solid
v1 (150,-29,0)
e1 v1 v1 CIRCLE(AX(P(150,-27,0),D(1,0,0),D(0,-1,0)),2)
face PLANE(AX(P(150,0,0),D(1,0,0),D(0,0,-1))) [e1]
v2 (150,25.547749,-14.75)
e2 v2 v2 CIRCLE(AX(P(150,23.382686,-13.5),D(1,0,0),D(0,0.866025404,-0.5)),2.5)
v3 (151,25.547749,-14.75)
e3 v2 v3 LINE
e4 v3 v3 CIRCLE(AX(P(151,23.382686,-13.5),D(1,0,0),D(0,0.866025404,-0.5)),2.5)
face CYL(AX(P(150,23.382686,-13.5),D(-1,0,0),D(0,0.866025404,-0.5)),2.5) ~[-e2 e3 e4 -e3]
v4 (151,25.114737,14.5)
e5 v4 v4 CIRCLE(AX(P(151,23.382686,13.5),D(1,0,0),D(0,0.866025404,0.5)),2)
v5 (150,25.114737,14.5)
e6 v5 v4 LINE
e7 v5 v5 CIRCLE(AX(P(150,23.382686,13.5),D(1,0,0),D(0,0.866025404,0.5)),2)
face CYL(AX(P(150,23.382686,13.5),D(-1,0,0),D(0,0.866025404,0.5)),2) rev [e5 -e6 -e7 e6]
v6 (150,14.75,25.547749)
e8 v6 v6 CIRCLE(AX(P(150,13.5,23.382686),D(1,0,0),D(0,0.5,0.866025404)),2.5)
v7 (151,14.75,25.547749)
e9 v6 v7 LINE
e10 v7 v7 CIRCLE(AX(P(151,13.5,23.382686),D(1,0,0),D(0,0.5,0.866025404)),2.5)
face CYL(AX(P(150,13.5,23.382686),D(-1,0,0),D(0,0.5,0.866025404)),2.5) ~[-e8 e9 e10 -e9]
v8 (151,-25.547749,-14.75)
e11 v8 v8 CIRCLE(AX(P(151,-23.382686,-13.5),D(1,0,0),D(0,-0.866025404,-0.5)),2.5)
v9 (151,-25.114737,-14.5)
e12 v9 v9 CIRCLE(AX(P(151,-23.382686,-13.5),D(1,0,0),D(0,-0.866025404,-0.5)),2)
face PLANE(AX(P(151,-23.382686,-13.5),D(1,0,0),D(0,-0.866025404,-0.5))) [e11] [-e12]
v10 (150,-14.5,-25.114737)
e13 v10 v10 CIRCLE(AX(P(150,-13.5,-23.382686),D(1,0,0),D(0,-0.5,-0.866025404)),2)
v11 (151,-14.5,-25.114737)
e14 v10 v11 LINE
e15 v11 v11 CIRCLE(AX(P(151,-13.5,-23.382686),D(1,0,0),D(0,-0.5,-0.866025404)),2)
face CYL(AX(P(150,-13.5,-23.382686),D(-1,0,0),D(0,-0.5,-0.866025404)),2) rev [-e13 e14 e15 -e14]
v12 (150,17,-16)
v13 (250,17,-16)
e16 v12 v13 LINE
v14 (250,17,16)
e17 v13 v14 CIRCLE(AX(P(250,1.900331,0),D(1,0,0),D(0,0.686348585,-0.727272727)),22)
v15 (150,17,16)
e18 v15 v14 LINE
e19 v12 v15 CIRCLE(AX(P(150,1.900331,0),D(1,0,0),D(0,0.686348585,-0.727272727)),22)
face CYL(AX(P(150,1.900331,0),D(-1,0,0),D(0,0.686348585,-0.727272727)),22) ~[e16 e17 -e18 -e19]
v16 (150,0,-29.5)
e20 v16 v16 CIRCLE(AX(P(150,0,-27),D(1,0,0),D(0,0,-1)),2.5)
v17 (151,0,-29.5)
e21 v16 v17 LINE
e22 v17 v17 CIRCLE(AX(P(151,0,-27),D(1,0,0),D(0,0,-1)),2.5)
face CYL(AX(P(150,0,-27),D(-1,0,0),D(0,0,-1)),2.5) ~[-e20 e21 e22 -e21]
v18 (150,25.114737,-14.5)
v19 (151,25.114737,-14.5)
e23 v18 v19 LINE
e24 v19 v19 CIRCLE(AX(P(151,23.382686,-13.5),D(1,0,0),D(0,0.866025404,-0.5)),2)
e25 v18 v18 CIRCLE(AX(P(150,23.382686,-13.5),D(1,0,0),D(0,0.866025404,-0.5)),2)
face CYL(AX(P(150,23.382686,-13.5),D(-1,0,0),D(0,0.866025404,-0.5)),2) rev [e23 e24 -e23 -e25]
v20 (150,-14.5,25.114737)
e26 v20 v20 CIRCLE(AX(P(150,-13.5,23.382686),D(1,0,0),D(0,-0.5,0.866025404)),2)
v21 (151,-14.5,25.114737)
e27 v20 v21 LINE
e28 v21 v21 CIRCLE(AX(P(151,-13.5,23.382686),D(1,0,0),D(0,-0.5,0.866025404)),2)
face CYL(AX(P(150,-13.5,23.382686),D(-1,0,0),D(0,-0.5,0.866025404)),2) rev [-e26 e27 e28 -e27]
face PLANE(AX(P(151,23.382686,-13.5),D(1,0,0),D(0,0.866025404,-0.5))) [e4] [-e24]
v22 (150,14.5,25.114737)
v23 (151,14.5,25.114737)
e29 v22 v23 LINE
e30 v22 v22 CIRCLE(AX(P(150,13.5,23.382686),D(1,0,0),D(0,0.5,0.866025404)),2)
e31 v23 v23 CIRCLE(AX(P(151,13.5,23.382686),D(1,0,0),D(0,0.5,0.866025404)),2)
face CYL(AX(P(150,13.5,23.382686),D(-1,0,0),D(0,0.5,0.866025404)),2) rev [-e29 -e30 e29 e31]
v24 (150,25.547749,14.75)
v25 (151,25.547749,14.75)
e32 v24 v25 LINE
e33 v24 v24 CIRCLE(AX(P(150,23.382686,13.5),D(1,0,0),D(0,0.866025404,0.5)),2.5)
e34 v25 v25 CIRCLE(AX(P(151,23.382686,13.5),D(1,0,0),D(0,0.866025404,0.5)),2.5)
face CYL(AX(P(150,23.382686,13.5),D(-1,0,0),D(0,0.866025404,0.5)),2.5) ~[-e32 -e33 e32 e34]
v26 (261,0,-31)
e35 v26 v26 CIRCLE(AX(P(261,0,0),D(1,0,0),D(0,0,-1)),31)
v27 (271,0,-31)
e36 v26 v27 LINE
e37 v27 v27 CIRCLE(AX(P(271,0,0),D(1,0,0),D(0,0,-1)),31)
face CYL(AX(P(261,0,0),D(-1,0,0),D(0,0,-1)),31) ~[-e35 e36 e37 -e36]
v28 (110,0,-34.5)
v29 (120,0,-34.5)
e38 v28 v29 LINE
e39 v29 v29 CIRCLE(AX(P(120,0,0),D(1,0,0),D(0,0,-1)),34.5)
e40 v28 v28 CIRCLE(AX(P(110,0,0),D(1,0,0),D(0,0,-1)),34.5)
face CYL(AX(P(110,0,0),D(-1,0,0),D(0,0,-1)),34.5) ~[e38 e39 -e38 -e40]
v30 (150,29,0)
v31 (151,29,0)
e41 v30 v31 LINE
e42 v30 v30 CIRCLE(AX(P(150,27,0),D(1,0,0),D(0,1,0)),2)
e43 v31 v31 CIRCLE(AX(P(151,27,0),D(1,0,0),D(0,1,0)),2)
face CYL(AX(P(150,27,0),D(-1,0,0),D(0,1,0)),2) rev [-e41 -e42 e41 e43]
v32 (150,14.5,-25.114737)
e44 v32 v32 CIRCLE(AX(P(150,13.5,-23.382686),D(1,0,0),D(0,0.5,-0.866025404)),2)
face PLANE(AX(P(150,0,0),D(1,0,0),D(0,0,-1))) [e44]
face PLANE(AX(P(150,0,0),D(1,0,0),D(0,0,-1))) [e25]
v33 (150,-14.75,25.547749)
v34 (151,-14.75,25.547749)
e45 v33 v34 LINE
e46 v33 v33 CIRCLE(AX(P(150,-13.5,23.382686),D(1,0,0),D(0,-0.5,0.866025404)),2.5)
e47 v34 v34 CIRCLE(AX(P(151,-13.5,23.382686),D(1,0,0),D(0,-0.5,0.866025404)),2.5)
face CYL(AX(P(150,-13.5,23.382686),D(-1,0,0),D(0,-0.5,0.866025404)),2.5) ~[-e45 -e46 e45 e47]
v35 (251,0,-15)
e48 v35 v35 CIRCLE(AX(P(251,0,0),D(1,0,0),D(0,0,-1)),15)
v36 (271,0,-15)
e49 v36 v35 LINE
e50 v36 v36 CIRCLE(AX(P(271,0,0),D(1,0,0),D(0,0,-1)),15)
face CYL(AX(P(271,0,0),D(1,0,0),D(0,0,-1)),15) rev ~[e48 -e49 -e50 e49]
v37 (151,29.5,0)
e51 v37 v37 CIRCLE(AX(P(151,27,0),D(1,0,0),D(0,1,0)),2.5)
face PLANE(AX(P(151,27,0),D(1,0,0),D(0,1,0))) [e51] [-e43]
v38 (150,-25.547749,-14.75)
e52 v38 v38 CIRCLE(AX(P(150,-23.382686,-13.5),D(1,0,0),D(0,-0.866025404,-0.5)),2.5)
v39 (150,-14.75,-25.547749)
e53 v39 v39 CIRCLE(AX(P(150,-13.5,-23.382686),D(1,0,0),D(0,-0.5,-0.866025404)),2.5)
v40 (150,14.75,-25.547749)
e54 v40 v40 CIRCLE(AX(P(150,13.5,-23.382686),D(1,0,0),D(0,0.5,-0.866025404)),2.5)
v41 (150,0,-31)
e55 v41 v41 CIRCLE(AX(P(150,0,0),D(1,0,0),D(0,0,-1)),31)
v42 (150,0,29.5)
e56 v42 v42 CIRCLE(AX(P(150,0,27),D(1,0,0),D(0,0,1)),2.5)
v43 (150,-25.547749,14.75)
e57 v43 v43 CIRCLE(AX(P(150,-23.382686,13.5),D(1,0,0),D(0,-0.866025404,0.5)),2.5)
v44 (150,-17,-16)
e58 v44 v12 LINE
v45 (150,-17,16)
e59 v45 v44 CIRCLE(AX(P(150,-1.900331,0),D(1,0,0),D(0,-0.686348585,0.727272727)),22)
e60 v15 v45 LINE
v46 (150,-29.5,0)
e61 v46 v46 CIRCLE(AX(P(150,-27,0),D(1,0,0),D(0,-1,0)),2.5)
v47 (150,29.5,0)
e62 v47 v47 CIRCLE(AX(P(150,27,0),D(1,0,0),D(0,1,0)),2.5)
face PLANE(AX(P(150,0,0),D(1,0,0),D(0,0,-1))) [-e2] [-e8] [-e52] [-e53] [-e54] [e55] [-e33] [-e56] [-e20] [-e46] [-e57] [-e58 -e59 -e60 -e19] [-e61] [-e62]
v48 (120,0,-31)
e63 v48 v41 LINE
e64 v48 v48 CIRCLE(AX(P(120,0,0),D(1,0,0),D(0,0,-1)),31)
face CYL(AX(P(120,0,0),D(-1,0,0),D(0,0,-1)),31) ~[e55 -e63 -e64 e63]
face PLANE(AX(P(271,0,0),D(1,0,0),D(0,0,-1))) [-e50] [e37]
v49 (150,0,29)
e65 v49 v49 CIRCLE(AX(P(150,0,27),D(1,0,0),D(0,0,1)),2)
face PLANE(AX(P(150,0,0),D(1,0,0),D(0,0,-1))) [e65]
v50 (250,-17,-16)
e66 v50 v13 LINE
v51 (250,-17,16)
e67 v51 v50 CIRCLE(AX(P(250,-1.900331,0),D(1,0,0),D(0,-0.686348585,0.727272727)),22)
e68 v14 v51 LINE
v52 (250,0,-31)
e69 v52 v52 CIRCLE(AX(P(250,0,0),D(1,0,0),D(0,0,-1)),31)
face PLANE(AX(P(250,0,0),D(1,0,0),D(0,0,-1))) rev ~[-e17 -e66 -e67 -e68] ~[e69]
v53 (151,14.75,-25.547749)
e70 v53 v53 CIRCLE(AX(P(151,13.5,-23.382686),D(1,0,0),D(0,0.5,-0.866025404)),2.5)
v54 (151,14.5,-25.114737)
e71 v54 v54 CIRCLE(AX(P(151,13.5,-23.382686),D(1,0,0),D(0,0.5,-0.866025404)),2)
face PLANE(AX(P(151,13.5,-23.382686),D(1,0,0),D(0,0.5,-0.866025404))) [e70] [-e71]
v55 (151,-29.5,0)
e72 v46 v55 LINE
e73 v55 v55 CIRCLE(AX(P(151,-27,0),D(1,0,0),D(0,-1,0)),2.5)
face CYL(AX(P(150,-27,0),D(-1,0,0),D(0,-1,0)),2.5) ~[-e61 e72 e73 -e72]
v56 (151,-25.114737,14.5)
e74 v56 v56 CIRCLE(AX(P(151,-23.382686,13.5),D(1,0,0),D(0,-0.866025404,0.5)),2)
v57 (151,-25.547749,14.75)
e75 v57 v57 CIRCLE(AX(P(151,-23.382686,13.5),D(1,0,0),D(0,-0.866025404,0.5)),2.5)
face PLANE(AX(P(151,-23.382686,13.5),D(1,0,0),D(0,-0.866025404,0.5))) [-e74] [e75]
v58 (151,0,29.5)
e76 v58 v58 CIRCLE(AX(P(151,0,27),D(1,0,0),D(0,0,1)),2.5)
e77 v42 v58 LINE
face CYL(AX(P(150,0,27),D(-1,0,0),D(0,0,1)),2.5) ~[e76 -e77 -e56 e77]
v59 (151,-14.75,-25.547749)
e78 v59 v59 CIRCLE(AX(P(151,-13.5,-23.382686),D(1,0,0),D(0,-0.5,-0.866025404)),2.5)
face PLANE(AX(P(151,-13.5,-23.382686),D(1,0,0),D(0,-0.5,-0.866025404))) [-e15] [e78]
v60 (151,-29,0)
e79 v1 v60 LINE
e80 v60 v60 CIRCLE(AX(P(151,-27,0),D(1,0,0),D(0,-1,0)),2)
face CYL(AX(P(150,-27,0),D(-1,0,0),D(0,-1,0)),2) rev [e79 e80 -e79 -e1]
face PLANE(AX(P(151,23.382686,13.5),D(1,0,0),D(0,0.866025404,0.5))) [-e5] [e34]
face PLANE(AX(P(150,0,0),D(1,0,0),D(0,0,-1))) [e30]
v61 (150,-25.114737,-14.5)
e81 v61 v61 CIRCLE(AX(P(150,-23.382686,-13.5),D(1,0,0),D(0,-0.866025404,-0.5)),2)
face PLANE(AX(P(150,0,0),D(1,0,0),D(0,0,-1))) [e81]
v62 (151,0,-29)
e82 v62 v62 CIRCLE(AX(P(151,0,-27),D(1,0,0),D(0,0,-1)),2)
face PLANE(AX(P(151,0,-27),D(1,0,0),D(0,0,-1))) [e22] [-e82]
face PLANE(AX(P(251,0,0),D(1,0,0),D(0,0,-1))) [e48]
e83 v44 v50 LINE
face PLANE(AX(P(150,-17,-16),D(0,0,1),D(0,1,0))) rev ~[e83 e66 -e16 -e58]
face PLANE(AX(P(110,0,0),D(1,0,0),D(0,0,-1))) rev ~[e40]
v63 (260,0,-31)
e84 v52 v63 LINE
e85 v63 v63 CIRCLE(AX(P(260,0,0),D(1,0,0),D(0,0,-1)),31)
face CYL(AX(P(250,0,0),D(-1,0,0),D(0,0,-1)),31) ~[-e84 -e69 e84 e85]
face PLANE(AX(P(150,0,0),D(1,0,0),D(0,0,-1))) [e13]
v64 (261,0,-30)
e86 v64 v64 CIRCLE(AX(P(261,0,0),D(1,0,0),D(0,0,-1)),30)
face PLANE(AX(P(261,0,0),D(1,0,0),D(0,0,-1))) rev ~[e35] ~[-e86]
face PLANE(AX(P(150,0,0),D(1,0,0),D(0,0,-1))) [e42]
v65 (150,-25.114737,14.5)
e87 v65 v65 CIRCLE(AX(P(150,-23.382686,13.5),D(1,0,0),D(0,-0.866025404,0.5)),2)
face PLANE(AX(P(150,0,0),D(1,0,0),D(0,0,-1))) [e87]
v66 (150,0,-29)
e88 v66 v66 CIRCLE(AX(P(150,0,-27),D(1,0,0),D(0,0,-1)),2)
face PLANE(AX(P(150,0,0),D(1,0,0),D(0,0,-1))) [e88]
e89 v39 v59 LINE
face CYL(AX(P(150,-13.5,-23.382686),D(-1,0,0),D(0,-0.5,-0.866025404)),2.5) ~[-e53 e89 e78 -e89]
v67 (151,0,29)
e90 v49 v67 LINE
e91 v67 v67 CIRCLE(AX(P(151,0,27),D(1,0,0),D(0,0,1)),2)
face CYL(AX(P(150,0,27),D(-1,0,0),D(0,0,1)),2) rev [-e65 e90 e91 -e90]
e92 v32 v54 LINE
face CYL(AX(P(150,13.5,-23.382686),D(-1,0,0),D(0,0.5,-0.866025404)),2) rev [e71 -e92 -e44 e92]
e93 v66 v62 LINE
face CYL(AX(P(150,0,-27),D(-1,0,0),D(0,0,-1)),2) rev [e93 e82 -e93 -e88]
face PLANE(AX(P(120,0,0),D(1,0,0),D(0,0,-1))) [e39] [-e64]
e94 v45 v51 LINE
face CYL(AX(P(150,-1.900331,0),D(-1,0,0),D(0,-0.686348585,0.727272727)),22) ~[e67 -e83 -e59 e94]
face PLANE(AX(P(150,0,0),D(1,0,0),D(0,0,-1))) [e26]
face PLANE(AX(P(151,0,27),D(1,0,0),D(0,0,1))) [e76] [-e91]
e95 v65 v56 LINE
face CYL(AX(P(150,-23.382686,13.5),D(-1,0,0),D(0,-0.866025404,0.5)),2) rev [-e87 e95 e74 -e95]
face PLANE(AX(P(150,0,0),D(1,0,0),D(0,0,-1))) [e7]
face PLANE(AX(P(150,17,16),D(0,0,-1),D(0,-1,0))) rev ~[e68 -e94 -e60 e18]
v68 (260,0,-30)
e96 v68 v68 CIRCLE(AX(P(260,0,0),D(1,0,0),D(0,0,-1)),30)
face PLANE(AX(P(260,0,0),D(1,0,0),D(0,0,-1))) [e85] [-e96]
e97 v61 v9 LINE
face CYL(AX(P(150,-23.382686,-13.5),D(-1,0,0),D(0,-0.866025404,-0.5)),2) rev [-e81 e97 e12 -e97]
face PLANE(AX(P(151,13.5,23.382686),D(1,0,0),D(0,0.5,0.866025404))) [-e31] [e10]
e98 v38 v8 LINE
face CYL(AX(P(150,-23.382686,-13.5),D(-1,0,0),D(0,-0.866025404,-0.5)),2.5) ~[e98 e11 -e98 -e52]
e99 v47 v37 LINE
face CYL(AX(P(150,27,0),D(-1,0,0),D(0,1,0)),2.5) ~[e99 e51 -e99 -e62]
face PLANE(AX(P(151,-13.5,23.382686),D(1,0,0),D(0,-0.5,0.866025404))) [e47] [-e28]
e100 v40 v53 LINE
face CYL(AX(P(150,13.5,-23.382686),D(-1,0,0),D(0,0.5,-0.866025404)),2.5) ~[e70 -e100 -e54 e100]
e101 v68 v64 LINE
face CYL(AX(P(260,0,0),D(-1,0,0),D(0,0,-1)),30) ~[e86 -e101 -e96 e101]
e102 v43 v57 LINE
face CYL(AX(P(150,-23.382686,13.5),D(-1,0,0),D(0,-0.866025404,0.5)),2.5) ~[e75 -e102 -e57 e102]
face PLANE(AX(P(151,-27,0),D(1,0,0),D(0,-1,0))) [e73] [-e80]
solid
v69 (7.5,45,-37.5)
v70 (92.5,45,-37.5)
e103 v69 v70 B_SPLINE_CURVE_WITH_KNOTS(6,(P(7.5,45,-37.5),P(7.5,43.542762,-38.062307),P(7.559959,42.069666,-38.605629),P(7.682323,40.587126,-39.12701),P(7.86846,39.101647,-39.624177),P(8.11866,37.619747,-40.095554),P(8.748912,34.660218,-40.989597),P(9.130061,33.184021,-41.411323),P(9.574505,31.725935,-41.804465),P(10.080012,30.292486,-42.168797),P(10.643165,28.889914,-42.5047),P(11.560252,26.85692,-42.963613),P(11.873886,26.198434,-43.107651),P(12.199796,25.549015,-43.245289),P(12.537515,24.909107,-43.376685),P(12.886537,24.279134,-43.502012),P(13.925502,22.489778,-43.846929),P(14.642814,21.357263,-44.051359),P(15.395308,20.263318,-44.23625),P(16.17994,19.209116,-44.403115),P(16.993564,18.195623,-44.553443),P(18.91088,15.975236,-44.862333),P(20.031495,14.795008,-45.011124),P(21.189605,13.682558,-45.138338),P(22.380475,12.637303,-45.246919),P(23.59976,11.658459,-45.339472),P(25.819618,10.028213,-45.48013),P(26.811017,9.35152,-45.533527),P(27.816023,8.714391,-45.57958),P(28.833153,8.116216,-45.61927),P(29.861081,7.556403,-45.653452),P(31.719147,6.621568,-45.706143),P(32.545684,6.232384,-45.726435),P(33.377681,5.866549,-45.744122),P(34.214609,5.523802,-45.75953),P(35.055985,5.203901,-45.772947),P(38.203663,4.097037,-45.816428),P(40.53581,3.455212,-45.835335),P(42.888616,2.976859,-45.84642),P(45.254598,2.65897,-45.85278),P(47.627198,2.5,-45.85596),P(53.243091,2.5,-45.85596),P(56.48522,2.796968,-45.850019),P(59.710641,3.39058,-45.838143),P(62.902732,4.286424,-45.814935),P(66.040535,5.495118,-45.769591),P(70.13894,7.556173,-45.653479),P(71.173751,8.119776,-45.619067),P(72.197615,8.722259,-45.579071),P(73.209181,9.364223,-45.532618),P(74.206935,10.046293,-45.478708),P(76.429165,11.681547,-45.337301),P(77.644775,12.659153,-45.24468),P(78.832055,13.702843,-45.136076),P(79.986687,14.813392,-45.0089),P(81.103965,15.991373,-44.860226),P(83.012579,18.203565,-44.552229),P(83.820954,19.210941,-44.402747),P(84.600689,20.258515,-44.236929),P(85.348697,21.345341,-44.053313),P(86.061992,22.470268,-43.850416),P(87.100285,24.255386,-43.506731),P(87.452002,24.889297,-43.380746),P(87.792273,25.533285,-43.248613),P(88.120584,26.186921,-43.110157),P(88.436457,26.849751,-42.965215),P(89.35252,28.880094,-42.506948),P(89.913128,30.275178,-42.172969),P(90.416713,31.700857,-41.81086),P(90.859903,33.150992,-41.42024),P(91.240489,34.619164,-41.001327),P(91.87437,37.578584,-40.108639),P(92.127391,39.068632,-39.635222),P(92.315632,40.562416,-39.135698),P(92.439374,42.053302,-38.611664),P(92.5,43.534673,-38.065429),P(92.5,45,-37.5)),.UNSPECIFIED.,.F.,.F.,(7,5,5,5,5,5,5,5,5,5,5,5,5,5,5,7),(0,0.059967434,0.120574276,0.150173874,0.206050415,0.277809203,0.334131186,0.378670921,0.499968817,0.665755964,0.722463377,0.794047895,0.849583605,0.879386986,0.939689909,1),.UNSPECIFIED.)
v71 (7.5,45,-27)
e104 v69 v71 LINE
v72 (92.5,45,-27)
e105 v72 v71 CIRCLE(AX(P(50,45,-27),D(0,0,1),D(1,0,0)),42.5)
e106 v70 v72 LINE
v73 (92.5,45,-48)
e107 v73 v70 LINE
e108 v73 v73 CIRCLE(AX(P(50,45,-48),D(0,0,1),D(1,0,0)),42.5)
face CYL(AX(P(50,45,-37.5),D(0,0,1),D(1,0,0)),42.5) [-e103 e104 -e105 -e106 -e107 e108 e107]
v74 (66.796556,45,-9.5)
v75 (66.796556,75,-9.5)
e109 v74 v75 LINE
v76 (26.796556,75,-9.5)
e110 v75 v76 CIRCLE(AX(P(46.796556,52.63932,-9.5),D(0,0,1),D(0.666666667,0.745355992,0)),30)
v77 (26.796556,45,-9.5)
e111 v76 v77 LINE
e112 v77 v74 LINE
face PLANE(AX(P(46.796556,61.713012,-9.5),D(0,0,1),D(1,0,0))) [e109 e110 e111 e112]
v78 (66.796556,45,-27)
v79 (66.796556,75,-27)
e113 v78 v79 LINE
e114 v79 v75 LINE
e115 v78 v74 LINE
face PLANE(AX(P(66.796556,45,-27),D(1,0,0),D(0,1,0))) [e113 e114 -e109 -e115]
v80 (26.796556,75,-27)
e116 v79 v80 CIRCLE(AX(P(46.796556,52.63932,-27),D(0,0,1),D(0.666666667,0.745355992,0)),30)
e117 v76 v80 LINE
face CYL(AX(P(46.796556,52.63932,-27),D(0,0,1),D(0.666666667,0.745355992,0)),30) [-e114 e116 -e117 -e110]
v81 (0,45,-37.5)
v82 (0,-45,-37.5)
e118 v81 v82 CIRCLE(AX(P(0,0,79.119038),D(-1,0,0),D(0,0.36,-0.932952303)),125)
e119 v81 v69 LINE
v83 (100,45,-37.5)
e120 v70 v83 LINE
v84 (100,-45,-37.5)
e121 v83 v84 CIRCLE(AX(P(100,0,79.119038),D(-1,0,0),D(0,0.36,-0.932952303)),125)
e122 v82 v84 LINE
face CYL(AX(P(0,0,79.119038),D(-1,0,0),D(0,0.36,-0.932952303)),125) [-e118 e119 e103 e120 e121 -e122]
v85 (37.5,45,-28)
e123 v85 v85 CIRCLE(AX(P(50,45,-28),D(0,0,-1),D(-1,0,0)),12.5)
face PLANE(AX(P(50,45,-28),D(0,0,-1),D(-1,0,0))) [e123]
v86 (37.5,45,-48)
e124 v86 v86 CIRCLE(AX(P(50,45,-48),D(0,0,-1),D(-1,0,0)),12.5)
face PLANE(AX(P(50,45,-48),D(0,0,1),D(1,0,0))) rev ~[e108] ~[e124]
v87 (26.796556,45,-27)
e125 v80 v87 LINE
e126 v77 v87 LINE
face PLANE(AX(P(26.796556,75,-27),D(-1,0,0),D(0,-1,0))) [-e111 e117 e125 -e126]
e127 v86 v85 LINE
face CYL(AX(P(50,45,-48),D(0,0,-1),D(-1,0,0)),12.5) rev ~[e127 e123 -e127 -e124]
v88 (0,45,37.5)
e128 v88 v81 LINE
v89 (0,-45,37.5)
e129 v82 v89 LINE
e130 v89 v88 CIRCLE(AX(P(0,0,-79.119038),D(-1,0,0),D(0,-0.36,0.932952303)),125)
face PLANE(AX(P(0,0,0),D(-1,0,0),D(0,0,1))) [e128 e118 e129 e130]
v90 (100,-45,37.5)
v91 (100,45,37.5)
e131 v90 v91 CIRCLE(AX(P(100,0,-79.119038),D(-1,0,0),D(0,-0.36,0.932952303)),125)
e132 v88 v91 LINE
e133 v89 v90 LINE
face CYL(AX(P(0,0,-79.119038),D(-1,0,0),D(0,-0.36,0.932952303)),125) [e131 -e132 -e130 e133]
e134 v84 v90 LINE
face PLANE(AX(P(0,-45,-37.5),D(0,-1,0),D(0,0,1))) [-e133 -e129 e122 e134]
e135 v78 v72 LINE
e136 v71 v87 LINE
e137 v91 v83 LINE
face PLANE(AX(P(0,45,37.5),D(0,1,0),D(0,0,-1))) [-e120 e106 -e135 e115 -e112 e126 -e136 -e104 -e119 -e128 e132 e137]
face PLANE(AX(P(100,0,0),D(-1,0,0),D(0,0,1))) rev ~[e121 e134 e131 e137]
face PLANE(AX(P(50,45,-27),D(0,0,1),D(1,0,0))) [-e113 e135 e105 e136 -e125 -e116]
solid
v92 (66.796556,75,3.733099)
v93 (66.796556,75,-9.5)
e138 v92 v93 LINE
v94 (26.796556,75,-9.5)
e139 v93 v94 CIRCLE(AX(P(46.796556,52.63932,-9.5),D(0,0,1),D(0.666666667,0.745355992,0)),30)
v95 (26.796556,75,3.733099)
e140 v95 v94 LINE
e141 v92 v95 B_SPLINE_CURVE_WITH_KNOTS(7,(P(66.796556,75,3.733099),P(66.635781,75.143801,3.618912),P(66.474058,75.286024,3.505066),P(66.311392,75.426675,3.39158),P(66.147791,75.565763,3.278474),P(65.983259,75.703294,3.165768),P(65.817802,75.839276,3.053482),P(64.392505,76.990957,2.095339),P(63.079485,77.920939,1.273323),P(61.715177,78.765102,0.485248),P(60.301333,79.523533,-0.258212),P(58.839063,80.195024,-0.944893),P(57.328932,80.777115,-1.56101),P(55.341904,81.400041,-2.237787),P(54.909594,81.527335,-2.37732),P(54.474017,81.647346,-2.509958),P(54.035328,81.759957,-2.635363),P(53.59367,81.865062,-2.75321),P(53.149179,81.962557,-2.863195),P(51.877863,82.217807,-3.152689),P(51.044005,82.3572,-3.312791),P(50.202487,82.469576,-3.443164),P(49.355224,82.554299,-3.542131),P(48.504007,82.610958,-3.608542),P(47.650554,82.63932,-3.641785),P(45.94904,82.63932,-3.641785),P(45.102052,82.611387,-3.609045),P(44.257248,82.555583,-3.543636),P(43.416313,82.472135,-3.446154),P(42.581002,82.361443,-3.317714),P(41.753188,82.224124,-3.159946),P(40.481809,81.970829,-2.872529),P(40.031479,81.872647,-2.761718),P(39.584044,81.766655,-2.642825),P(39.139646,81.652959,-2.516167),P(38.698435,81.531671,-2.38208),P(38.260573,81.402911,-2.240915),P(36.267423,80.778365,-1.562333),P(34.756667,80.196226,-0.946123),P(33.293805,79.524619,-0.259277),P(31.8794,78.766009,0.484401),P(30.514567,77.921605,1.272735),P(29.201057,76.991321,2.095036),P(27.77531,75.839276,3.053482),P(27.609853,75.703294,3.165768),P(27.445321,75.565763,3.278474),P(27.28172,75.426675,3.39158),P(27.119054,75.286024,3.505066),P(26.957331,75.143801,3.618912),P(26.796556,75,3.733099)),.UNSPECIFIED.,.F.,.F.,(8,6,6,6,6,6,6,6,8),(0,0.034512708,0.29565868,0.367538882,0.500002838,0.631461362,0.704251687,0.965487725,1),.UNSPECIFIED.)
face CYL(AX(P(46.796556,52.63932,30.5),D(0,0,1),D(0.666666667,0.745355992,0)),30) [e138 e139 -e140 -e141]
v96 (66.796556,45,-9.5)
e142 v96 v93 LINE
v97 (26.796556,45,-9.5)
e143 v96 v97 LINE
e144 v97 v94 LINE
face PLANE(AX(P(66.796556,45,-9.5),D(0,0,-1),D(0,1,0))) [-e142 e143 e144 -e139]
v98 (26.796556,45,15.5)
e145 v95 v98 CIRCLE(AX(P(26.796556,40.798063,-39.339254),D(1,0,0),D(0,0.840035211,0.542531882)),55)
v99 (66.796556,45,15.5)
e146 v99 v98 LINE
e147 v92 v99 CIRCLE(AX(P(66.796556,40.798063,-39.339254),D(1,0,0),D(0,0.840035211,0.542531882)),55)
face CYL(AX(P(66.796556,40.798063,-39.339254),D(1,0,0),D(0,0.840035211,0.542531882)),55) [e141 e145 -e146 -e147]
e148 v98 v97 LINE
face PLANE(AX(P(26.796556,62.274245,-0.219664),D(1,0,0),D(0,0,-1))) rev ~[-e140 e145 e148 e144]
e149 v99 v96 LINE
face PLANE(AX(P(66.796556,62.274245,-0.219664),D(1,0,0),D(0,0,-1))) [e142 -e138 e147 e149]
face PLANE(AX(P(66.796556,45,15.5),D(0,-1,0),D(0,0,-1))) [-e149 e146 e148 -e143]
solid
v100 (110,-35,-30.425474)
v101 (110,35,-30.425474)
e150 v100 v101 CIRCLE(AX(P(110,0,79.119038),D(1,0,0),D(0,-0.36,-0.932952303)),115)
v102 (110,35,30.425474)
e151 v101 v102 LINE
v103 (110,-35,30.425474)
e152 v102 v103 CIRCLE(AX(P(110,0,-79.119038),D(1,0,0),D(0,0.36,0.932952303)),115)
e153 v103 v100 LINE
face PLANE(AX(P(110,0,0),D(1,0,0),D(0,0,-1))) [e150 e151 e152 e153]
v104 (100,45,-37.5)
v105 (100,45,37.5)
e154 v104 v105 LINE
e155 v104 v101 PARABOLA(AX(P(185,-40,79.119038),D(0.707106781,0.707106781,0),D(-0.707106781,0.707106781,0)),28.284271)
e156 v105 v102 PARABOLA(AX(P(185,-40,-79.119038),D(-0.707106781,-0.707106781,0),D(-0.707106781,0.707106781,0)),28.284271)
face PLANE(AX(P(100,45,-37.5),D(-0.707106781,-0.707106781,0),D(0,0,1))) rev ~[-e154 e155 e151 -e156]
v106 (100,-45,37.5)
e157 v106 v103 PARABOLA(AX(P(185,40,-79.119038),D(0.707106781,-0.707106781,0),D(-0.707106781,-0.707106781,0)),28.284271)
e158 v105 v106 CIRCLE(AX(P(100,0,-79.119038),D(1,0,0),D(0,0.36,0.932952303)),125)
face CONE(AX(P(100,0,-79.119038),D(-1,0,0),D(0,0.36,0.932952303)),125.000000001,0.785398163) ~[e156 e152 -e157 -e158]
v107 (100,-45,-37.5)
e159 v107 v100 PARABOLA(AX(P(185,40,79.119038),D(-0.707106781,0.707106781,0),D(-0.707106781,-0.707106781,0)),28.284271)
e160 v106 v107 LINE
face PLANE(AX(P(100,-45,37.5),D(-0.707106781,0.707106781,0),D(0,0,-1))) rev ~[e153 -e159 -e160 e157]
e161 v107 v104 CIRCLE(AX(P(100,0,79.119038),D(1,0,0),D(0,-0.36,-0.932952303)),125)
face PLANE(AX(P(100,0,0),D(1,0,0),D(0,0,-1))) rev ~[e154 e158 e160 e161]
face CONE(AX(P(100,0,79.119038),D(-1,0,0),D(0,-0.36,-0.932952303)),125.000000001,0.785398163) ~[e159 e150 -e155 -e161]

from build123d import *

# Parameters (mm, degrees)
BOSS_EXTRUDE1_DEPTH  = 100
BOSS_EXTRUDE2_DEPTH  = 10
BOSS_EXTRUDE2_DRAFT  = 45
SKETCH5_R            = 34.5
BOSS_EXTRUDE3_DEPTH  = 10
SKETCH6_R            = 31
BOSS_EXTRUDE4_DEPTH  = 30
SKETCH7_R            = 2.5
SKETCH7_R_2          = 2
BOSS_EXTRUDE5_DEPTH  = 1
CIRPATTERN1_COUNT    = 12
BOSS_EXTRUDE6_DEPTH  = 100
SKETCH10_R           = 31
BOSS_EXTRUDE7_DEPTH  = 10
SKETCH11_R           = 30
BOSS_EXTRUDE8_DEPTH  = 1
SKETCH12_R           = 31
BOSS_EXTRUDE9_DEPTH  = 10
SKETCH13_R           = 42.5
BOSS_EXTRUDE10_DEPTH = 10.5
BOSS_EXTRUDE11_DEPTH = 17.5
BOSS_EXTRUDE15_DEPTH = 40
CUT_EXTRUDE2_START   = -40
CUT_EXTRUDE2_DEPTH   = 40
SKETCH25_R           = 15
CUT_EXTRUDE3_DEPTH   = 20
SKETCH26_R           = 12.5
CUT_EXTRUDE4_DEPTH   = 20


with BuildPart() as part:
    # Sketch1 → Boss-Extrude1 (new body)
    with BuildSketch(Plane(origin=(0, 0, 0), x_dir=(0, 0, -1), z_dir=(1, 0, 0))):
        with BuildLine():
            Line((-37.5, 45), (37.5, 45))
            ThreePointArc((37.5, 45), (45.880962103, 0), (37.5, -45))
            Line((37.5, -45), (-37.5, -45))
            ThreePointArc((-37.5, -45), (-45.880962103, 0), (-37.5, 45))
        make_face()
    extrude(amount=BOSS_EXTRUDE1_DEPTH)



with BuildPart() as body_2:
    # Sketch4 → Boss-Extrude2 (with draft: the straight prism first)
    with BuildSketch(Plane(origin=(100, 0, 0), x_dir=(0, 0, -1), z_dir=(1, 0, 0))):
        with BuildLine():
            Line((37.5, 45), (-37.5, 45))
            ThreePointArc((-37.5, 45), (-45.880962103, 0), (-37.5, -45))
            Line((-37.5, -45), (37.5, -45))
            ThreePointArc((37.5, -45), (45.880962103, 0), (37.5, 45))
        make_face()
    extrude(amount=BOSS_EXTRUDE2_DEPTH)
    # Boss-Extrude2: the draft: its side faces are tilted about the plane it starts from
    boss_extrude2_sides = [body_2.faces().sort_by_distance(p)[0] for p in [
        (105, 45, 0),
        (105, 0, 45.880962103),
        (105, -45, 0),
        (105, 0, -45.880962103),
    ]]
    draft(boss_extrude2_sides, Plane(origin=(100, 0, 0), x_dir=(0, 0, -1), z_dir=(1, 0, 0)), BOSS_EXTRUDE2_DRAFT)


with BuildPart() as body_3:
    # Sketch5 → Boss-Extrude3 (new body)
    with BuildSketch(Plane(origin=(110, 0, 0), x_dir=(0, 0, -1), z_dir=(1, 0, 0))):
        Circle(SKETCH5_R)
    extrude(amount=BOSS_EXTRUDE3_DEPTH)

    # Sketch6 → Boss-Extrude4 (add)
    with BuildSketch(Plane(origin=(120, 0, 0), x_dir=(0, 0, -1), z_dir=(1, 0, 0))):
        Circle(SKETCH6_R)
    extrude(amount=BOSS_EXTRUDE4_DEPTH)

    # Sketch7 → Boss-Extrude5 (add)
    with BuildSketch(Plane(origin=(150, 0, 0), x_dir=(0, 0, -1), z_dir=(1, 0, 0))):
        with Locations((27, 0)):
            Circle(SKETCH7_R)
        with Locations((27, 0)):
            Circle(SKETCH7_R_2, mode=Mode.SUBTRACT)
    boss_extrude5 = extrude(amount=BOSS_EXTRUDE5_DEPTH)

    # CirPattern1: Boss-Extrude5 ×12 about axis
    cirpattern1_axis = Axis((0, 0, 0), (1, 0, 0))
    for i in range(1, CIRPATTERN1_COUNT):
        add(boss_extrude5.rotate(cirpattern1_axis, i * 360 / CIRPATTERN1_COUNT))

    # Sketch9 → Boss-Extrude6 (add)
    with BuildSketch(Plane(origin=(150, 0, 0), x_dir=(0, 0, -1), z_dir=(1, 0, 0))):
        with BuildLine():
            Line((16, -17), (16, 17))
            ThreePointArc((16, 17), (0, 23.900331129), (-16, 17))
            Line((-16, 17), (-16, -17))
            ThreePointArc((-16, -17), (0, -23.900331129), (16, -17))
        make_face()
    extrude(amount=BOSS_EXTRUDE6_DEPTH)

    # Sketch10 → Boss-Extrude7 (add)
    with BuildSketch(Plane(origin=(250, 0, 0), x_dir=(0, 0, -1), z_dir=(1, 0, 0))):
        Circle(SKETCH10_R)
    extrude(amount=BOSS_EXTRUDE7_DEPTH)

    # Sketch11 → Boss-Extrude8 (add)
    with BuildSketch(Plane(origin=(260, 0, 0), x_dir=(0, 0, -1), z_dir=(1, 0, 0))):
        Circle(SKETCH11_R)
    extrude(amount=BOSS_EXTRUDE8_DEPTH)

    # Sketch12 → Boss-Extrude9 (add)
    with BuildSketch(Plane(origin=(261, 0, 0), x_dir=(0, 0, -1), z_dir=(1, 0, 0))):
        Circle(SKETCH12_R)
    extrude(amount=BOSS_EXTRUDE9_DEPTH)

    # Sketch25 → Cut-Extrude3 (cut)
    with BuildSketch(Plane(origin=(271, 0, 0), x_dir=(0, 0, -1), z_dir=(1, 0, 0))):
        Circle(SKETCH25_R)
    extrude(amount=-CUT_EXTRUDE3_DEPTH, mode=Mode.SUBTRACT)


with BuildPart() as body_4:
    # Sketch13 → Boss-Extrude10 (new, symmetric)
    with BuildSketch(Plane.XY.offset(-37.5)):
        with Locations((50, 45)):
            Circle(SKETCH13_R)
    extrude(amount=BOSS_EXTRUDE10_DEPTH, both=True)


with BuildPart() as part_1:
    add(part.part)

    add(body_4.part)  # Boss-Extrude11 merges body 4
    # Sketch16 → Boss-Extrude11 (add, symmetric)
    with BuildSketch(Plane.XY.offset(-27)):
        with BuildLine():
            Line((26.796556005, 45), (66.796556005, 45))
            Line((66.796556005, 45), (66.796556005, 75))
            ThreePointArc((66.796556005, 75), (46.796556005, 82.639320225), (26.796556005, 75))
            Line((26.796556005, 75), (26.796556005, 45))
        make_face()
    extrude(amount=BOSS_EXTRUDE11_DEPTH, both=True)

    # Sketch26 → Cut-Extrude4 (cut)
    with BuildSketch(Plane(origin=(0, 0, -48), x_dir=(-1, 0, 0), z_dir=(0, 0, -1))):
        with Locations((-50, 45)):
            Circle(SKETCH26_R)
    extrude(amount=-CUT_EXTRUDE4_DEPTH, mode=Mode.SUBTRACT)


with BuildPart() as body_4_2:
    # Sketch17 → Boss-Extrude15 (new body)
    with BuildSketch(Plane(origin=(66.796556005, 0, 0), x_dir=(0, 0, -1), z_dir=(1, 0, 0))):
        with BuildLine():
            Line((9.5, 45), (9.5, 87))
            ThreePointArc((9.5, 87), (-7.921855105, 68.929675658), (-15.5, 45))
            Line((-15.5, 45), (9.5, 45))
        make_face()
    extrude(amount=-BOSS_EXTRUDE15_DEPTH)

    # Sketch24 → Cut-Extrude2 (cut)
    with BuildSketch(Plane(origin=(0, 0, -9.5), x_dir=(-1, 0, 0), z_dir=(0, 0, -1)).offset(CUT_EXTRUDE2_START)):
        with BuildLine():
            Line((-26.796556005, 75), (-26.796556005, 95.375947624))
            Line((-26.796556005, 95.375947624), (-66.796556005, 96.108223455))
            Line((-66.796556005, 96.108223455), (-66.796556005, 75))
            ThreePointArc((-66.796556005, 75), (-46.796556005, 82.639320225), (-26.796556005, 75))
        make_face()
    extrude(amount=CUT_EXTRUDE2_DEPTH, mode=Mode.SUBTRACT)


solid = Compound([body_2.part, body_3.part, part_1.part, body_4_2.part])
